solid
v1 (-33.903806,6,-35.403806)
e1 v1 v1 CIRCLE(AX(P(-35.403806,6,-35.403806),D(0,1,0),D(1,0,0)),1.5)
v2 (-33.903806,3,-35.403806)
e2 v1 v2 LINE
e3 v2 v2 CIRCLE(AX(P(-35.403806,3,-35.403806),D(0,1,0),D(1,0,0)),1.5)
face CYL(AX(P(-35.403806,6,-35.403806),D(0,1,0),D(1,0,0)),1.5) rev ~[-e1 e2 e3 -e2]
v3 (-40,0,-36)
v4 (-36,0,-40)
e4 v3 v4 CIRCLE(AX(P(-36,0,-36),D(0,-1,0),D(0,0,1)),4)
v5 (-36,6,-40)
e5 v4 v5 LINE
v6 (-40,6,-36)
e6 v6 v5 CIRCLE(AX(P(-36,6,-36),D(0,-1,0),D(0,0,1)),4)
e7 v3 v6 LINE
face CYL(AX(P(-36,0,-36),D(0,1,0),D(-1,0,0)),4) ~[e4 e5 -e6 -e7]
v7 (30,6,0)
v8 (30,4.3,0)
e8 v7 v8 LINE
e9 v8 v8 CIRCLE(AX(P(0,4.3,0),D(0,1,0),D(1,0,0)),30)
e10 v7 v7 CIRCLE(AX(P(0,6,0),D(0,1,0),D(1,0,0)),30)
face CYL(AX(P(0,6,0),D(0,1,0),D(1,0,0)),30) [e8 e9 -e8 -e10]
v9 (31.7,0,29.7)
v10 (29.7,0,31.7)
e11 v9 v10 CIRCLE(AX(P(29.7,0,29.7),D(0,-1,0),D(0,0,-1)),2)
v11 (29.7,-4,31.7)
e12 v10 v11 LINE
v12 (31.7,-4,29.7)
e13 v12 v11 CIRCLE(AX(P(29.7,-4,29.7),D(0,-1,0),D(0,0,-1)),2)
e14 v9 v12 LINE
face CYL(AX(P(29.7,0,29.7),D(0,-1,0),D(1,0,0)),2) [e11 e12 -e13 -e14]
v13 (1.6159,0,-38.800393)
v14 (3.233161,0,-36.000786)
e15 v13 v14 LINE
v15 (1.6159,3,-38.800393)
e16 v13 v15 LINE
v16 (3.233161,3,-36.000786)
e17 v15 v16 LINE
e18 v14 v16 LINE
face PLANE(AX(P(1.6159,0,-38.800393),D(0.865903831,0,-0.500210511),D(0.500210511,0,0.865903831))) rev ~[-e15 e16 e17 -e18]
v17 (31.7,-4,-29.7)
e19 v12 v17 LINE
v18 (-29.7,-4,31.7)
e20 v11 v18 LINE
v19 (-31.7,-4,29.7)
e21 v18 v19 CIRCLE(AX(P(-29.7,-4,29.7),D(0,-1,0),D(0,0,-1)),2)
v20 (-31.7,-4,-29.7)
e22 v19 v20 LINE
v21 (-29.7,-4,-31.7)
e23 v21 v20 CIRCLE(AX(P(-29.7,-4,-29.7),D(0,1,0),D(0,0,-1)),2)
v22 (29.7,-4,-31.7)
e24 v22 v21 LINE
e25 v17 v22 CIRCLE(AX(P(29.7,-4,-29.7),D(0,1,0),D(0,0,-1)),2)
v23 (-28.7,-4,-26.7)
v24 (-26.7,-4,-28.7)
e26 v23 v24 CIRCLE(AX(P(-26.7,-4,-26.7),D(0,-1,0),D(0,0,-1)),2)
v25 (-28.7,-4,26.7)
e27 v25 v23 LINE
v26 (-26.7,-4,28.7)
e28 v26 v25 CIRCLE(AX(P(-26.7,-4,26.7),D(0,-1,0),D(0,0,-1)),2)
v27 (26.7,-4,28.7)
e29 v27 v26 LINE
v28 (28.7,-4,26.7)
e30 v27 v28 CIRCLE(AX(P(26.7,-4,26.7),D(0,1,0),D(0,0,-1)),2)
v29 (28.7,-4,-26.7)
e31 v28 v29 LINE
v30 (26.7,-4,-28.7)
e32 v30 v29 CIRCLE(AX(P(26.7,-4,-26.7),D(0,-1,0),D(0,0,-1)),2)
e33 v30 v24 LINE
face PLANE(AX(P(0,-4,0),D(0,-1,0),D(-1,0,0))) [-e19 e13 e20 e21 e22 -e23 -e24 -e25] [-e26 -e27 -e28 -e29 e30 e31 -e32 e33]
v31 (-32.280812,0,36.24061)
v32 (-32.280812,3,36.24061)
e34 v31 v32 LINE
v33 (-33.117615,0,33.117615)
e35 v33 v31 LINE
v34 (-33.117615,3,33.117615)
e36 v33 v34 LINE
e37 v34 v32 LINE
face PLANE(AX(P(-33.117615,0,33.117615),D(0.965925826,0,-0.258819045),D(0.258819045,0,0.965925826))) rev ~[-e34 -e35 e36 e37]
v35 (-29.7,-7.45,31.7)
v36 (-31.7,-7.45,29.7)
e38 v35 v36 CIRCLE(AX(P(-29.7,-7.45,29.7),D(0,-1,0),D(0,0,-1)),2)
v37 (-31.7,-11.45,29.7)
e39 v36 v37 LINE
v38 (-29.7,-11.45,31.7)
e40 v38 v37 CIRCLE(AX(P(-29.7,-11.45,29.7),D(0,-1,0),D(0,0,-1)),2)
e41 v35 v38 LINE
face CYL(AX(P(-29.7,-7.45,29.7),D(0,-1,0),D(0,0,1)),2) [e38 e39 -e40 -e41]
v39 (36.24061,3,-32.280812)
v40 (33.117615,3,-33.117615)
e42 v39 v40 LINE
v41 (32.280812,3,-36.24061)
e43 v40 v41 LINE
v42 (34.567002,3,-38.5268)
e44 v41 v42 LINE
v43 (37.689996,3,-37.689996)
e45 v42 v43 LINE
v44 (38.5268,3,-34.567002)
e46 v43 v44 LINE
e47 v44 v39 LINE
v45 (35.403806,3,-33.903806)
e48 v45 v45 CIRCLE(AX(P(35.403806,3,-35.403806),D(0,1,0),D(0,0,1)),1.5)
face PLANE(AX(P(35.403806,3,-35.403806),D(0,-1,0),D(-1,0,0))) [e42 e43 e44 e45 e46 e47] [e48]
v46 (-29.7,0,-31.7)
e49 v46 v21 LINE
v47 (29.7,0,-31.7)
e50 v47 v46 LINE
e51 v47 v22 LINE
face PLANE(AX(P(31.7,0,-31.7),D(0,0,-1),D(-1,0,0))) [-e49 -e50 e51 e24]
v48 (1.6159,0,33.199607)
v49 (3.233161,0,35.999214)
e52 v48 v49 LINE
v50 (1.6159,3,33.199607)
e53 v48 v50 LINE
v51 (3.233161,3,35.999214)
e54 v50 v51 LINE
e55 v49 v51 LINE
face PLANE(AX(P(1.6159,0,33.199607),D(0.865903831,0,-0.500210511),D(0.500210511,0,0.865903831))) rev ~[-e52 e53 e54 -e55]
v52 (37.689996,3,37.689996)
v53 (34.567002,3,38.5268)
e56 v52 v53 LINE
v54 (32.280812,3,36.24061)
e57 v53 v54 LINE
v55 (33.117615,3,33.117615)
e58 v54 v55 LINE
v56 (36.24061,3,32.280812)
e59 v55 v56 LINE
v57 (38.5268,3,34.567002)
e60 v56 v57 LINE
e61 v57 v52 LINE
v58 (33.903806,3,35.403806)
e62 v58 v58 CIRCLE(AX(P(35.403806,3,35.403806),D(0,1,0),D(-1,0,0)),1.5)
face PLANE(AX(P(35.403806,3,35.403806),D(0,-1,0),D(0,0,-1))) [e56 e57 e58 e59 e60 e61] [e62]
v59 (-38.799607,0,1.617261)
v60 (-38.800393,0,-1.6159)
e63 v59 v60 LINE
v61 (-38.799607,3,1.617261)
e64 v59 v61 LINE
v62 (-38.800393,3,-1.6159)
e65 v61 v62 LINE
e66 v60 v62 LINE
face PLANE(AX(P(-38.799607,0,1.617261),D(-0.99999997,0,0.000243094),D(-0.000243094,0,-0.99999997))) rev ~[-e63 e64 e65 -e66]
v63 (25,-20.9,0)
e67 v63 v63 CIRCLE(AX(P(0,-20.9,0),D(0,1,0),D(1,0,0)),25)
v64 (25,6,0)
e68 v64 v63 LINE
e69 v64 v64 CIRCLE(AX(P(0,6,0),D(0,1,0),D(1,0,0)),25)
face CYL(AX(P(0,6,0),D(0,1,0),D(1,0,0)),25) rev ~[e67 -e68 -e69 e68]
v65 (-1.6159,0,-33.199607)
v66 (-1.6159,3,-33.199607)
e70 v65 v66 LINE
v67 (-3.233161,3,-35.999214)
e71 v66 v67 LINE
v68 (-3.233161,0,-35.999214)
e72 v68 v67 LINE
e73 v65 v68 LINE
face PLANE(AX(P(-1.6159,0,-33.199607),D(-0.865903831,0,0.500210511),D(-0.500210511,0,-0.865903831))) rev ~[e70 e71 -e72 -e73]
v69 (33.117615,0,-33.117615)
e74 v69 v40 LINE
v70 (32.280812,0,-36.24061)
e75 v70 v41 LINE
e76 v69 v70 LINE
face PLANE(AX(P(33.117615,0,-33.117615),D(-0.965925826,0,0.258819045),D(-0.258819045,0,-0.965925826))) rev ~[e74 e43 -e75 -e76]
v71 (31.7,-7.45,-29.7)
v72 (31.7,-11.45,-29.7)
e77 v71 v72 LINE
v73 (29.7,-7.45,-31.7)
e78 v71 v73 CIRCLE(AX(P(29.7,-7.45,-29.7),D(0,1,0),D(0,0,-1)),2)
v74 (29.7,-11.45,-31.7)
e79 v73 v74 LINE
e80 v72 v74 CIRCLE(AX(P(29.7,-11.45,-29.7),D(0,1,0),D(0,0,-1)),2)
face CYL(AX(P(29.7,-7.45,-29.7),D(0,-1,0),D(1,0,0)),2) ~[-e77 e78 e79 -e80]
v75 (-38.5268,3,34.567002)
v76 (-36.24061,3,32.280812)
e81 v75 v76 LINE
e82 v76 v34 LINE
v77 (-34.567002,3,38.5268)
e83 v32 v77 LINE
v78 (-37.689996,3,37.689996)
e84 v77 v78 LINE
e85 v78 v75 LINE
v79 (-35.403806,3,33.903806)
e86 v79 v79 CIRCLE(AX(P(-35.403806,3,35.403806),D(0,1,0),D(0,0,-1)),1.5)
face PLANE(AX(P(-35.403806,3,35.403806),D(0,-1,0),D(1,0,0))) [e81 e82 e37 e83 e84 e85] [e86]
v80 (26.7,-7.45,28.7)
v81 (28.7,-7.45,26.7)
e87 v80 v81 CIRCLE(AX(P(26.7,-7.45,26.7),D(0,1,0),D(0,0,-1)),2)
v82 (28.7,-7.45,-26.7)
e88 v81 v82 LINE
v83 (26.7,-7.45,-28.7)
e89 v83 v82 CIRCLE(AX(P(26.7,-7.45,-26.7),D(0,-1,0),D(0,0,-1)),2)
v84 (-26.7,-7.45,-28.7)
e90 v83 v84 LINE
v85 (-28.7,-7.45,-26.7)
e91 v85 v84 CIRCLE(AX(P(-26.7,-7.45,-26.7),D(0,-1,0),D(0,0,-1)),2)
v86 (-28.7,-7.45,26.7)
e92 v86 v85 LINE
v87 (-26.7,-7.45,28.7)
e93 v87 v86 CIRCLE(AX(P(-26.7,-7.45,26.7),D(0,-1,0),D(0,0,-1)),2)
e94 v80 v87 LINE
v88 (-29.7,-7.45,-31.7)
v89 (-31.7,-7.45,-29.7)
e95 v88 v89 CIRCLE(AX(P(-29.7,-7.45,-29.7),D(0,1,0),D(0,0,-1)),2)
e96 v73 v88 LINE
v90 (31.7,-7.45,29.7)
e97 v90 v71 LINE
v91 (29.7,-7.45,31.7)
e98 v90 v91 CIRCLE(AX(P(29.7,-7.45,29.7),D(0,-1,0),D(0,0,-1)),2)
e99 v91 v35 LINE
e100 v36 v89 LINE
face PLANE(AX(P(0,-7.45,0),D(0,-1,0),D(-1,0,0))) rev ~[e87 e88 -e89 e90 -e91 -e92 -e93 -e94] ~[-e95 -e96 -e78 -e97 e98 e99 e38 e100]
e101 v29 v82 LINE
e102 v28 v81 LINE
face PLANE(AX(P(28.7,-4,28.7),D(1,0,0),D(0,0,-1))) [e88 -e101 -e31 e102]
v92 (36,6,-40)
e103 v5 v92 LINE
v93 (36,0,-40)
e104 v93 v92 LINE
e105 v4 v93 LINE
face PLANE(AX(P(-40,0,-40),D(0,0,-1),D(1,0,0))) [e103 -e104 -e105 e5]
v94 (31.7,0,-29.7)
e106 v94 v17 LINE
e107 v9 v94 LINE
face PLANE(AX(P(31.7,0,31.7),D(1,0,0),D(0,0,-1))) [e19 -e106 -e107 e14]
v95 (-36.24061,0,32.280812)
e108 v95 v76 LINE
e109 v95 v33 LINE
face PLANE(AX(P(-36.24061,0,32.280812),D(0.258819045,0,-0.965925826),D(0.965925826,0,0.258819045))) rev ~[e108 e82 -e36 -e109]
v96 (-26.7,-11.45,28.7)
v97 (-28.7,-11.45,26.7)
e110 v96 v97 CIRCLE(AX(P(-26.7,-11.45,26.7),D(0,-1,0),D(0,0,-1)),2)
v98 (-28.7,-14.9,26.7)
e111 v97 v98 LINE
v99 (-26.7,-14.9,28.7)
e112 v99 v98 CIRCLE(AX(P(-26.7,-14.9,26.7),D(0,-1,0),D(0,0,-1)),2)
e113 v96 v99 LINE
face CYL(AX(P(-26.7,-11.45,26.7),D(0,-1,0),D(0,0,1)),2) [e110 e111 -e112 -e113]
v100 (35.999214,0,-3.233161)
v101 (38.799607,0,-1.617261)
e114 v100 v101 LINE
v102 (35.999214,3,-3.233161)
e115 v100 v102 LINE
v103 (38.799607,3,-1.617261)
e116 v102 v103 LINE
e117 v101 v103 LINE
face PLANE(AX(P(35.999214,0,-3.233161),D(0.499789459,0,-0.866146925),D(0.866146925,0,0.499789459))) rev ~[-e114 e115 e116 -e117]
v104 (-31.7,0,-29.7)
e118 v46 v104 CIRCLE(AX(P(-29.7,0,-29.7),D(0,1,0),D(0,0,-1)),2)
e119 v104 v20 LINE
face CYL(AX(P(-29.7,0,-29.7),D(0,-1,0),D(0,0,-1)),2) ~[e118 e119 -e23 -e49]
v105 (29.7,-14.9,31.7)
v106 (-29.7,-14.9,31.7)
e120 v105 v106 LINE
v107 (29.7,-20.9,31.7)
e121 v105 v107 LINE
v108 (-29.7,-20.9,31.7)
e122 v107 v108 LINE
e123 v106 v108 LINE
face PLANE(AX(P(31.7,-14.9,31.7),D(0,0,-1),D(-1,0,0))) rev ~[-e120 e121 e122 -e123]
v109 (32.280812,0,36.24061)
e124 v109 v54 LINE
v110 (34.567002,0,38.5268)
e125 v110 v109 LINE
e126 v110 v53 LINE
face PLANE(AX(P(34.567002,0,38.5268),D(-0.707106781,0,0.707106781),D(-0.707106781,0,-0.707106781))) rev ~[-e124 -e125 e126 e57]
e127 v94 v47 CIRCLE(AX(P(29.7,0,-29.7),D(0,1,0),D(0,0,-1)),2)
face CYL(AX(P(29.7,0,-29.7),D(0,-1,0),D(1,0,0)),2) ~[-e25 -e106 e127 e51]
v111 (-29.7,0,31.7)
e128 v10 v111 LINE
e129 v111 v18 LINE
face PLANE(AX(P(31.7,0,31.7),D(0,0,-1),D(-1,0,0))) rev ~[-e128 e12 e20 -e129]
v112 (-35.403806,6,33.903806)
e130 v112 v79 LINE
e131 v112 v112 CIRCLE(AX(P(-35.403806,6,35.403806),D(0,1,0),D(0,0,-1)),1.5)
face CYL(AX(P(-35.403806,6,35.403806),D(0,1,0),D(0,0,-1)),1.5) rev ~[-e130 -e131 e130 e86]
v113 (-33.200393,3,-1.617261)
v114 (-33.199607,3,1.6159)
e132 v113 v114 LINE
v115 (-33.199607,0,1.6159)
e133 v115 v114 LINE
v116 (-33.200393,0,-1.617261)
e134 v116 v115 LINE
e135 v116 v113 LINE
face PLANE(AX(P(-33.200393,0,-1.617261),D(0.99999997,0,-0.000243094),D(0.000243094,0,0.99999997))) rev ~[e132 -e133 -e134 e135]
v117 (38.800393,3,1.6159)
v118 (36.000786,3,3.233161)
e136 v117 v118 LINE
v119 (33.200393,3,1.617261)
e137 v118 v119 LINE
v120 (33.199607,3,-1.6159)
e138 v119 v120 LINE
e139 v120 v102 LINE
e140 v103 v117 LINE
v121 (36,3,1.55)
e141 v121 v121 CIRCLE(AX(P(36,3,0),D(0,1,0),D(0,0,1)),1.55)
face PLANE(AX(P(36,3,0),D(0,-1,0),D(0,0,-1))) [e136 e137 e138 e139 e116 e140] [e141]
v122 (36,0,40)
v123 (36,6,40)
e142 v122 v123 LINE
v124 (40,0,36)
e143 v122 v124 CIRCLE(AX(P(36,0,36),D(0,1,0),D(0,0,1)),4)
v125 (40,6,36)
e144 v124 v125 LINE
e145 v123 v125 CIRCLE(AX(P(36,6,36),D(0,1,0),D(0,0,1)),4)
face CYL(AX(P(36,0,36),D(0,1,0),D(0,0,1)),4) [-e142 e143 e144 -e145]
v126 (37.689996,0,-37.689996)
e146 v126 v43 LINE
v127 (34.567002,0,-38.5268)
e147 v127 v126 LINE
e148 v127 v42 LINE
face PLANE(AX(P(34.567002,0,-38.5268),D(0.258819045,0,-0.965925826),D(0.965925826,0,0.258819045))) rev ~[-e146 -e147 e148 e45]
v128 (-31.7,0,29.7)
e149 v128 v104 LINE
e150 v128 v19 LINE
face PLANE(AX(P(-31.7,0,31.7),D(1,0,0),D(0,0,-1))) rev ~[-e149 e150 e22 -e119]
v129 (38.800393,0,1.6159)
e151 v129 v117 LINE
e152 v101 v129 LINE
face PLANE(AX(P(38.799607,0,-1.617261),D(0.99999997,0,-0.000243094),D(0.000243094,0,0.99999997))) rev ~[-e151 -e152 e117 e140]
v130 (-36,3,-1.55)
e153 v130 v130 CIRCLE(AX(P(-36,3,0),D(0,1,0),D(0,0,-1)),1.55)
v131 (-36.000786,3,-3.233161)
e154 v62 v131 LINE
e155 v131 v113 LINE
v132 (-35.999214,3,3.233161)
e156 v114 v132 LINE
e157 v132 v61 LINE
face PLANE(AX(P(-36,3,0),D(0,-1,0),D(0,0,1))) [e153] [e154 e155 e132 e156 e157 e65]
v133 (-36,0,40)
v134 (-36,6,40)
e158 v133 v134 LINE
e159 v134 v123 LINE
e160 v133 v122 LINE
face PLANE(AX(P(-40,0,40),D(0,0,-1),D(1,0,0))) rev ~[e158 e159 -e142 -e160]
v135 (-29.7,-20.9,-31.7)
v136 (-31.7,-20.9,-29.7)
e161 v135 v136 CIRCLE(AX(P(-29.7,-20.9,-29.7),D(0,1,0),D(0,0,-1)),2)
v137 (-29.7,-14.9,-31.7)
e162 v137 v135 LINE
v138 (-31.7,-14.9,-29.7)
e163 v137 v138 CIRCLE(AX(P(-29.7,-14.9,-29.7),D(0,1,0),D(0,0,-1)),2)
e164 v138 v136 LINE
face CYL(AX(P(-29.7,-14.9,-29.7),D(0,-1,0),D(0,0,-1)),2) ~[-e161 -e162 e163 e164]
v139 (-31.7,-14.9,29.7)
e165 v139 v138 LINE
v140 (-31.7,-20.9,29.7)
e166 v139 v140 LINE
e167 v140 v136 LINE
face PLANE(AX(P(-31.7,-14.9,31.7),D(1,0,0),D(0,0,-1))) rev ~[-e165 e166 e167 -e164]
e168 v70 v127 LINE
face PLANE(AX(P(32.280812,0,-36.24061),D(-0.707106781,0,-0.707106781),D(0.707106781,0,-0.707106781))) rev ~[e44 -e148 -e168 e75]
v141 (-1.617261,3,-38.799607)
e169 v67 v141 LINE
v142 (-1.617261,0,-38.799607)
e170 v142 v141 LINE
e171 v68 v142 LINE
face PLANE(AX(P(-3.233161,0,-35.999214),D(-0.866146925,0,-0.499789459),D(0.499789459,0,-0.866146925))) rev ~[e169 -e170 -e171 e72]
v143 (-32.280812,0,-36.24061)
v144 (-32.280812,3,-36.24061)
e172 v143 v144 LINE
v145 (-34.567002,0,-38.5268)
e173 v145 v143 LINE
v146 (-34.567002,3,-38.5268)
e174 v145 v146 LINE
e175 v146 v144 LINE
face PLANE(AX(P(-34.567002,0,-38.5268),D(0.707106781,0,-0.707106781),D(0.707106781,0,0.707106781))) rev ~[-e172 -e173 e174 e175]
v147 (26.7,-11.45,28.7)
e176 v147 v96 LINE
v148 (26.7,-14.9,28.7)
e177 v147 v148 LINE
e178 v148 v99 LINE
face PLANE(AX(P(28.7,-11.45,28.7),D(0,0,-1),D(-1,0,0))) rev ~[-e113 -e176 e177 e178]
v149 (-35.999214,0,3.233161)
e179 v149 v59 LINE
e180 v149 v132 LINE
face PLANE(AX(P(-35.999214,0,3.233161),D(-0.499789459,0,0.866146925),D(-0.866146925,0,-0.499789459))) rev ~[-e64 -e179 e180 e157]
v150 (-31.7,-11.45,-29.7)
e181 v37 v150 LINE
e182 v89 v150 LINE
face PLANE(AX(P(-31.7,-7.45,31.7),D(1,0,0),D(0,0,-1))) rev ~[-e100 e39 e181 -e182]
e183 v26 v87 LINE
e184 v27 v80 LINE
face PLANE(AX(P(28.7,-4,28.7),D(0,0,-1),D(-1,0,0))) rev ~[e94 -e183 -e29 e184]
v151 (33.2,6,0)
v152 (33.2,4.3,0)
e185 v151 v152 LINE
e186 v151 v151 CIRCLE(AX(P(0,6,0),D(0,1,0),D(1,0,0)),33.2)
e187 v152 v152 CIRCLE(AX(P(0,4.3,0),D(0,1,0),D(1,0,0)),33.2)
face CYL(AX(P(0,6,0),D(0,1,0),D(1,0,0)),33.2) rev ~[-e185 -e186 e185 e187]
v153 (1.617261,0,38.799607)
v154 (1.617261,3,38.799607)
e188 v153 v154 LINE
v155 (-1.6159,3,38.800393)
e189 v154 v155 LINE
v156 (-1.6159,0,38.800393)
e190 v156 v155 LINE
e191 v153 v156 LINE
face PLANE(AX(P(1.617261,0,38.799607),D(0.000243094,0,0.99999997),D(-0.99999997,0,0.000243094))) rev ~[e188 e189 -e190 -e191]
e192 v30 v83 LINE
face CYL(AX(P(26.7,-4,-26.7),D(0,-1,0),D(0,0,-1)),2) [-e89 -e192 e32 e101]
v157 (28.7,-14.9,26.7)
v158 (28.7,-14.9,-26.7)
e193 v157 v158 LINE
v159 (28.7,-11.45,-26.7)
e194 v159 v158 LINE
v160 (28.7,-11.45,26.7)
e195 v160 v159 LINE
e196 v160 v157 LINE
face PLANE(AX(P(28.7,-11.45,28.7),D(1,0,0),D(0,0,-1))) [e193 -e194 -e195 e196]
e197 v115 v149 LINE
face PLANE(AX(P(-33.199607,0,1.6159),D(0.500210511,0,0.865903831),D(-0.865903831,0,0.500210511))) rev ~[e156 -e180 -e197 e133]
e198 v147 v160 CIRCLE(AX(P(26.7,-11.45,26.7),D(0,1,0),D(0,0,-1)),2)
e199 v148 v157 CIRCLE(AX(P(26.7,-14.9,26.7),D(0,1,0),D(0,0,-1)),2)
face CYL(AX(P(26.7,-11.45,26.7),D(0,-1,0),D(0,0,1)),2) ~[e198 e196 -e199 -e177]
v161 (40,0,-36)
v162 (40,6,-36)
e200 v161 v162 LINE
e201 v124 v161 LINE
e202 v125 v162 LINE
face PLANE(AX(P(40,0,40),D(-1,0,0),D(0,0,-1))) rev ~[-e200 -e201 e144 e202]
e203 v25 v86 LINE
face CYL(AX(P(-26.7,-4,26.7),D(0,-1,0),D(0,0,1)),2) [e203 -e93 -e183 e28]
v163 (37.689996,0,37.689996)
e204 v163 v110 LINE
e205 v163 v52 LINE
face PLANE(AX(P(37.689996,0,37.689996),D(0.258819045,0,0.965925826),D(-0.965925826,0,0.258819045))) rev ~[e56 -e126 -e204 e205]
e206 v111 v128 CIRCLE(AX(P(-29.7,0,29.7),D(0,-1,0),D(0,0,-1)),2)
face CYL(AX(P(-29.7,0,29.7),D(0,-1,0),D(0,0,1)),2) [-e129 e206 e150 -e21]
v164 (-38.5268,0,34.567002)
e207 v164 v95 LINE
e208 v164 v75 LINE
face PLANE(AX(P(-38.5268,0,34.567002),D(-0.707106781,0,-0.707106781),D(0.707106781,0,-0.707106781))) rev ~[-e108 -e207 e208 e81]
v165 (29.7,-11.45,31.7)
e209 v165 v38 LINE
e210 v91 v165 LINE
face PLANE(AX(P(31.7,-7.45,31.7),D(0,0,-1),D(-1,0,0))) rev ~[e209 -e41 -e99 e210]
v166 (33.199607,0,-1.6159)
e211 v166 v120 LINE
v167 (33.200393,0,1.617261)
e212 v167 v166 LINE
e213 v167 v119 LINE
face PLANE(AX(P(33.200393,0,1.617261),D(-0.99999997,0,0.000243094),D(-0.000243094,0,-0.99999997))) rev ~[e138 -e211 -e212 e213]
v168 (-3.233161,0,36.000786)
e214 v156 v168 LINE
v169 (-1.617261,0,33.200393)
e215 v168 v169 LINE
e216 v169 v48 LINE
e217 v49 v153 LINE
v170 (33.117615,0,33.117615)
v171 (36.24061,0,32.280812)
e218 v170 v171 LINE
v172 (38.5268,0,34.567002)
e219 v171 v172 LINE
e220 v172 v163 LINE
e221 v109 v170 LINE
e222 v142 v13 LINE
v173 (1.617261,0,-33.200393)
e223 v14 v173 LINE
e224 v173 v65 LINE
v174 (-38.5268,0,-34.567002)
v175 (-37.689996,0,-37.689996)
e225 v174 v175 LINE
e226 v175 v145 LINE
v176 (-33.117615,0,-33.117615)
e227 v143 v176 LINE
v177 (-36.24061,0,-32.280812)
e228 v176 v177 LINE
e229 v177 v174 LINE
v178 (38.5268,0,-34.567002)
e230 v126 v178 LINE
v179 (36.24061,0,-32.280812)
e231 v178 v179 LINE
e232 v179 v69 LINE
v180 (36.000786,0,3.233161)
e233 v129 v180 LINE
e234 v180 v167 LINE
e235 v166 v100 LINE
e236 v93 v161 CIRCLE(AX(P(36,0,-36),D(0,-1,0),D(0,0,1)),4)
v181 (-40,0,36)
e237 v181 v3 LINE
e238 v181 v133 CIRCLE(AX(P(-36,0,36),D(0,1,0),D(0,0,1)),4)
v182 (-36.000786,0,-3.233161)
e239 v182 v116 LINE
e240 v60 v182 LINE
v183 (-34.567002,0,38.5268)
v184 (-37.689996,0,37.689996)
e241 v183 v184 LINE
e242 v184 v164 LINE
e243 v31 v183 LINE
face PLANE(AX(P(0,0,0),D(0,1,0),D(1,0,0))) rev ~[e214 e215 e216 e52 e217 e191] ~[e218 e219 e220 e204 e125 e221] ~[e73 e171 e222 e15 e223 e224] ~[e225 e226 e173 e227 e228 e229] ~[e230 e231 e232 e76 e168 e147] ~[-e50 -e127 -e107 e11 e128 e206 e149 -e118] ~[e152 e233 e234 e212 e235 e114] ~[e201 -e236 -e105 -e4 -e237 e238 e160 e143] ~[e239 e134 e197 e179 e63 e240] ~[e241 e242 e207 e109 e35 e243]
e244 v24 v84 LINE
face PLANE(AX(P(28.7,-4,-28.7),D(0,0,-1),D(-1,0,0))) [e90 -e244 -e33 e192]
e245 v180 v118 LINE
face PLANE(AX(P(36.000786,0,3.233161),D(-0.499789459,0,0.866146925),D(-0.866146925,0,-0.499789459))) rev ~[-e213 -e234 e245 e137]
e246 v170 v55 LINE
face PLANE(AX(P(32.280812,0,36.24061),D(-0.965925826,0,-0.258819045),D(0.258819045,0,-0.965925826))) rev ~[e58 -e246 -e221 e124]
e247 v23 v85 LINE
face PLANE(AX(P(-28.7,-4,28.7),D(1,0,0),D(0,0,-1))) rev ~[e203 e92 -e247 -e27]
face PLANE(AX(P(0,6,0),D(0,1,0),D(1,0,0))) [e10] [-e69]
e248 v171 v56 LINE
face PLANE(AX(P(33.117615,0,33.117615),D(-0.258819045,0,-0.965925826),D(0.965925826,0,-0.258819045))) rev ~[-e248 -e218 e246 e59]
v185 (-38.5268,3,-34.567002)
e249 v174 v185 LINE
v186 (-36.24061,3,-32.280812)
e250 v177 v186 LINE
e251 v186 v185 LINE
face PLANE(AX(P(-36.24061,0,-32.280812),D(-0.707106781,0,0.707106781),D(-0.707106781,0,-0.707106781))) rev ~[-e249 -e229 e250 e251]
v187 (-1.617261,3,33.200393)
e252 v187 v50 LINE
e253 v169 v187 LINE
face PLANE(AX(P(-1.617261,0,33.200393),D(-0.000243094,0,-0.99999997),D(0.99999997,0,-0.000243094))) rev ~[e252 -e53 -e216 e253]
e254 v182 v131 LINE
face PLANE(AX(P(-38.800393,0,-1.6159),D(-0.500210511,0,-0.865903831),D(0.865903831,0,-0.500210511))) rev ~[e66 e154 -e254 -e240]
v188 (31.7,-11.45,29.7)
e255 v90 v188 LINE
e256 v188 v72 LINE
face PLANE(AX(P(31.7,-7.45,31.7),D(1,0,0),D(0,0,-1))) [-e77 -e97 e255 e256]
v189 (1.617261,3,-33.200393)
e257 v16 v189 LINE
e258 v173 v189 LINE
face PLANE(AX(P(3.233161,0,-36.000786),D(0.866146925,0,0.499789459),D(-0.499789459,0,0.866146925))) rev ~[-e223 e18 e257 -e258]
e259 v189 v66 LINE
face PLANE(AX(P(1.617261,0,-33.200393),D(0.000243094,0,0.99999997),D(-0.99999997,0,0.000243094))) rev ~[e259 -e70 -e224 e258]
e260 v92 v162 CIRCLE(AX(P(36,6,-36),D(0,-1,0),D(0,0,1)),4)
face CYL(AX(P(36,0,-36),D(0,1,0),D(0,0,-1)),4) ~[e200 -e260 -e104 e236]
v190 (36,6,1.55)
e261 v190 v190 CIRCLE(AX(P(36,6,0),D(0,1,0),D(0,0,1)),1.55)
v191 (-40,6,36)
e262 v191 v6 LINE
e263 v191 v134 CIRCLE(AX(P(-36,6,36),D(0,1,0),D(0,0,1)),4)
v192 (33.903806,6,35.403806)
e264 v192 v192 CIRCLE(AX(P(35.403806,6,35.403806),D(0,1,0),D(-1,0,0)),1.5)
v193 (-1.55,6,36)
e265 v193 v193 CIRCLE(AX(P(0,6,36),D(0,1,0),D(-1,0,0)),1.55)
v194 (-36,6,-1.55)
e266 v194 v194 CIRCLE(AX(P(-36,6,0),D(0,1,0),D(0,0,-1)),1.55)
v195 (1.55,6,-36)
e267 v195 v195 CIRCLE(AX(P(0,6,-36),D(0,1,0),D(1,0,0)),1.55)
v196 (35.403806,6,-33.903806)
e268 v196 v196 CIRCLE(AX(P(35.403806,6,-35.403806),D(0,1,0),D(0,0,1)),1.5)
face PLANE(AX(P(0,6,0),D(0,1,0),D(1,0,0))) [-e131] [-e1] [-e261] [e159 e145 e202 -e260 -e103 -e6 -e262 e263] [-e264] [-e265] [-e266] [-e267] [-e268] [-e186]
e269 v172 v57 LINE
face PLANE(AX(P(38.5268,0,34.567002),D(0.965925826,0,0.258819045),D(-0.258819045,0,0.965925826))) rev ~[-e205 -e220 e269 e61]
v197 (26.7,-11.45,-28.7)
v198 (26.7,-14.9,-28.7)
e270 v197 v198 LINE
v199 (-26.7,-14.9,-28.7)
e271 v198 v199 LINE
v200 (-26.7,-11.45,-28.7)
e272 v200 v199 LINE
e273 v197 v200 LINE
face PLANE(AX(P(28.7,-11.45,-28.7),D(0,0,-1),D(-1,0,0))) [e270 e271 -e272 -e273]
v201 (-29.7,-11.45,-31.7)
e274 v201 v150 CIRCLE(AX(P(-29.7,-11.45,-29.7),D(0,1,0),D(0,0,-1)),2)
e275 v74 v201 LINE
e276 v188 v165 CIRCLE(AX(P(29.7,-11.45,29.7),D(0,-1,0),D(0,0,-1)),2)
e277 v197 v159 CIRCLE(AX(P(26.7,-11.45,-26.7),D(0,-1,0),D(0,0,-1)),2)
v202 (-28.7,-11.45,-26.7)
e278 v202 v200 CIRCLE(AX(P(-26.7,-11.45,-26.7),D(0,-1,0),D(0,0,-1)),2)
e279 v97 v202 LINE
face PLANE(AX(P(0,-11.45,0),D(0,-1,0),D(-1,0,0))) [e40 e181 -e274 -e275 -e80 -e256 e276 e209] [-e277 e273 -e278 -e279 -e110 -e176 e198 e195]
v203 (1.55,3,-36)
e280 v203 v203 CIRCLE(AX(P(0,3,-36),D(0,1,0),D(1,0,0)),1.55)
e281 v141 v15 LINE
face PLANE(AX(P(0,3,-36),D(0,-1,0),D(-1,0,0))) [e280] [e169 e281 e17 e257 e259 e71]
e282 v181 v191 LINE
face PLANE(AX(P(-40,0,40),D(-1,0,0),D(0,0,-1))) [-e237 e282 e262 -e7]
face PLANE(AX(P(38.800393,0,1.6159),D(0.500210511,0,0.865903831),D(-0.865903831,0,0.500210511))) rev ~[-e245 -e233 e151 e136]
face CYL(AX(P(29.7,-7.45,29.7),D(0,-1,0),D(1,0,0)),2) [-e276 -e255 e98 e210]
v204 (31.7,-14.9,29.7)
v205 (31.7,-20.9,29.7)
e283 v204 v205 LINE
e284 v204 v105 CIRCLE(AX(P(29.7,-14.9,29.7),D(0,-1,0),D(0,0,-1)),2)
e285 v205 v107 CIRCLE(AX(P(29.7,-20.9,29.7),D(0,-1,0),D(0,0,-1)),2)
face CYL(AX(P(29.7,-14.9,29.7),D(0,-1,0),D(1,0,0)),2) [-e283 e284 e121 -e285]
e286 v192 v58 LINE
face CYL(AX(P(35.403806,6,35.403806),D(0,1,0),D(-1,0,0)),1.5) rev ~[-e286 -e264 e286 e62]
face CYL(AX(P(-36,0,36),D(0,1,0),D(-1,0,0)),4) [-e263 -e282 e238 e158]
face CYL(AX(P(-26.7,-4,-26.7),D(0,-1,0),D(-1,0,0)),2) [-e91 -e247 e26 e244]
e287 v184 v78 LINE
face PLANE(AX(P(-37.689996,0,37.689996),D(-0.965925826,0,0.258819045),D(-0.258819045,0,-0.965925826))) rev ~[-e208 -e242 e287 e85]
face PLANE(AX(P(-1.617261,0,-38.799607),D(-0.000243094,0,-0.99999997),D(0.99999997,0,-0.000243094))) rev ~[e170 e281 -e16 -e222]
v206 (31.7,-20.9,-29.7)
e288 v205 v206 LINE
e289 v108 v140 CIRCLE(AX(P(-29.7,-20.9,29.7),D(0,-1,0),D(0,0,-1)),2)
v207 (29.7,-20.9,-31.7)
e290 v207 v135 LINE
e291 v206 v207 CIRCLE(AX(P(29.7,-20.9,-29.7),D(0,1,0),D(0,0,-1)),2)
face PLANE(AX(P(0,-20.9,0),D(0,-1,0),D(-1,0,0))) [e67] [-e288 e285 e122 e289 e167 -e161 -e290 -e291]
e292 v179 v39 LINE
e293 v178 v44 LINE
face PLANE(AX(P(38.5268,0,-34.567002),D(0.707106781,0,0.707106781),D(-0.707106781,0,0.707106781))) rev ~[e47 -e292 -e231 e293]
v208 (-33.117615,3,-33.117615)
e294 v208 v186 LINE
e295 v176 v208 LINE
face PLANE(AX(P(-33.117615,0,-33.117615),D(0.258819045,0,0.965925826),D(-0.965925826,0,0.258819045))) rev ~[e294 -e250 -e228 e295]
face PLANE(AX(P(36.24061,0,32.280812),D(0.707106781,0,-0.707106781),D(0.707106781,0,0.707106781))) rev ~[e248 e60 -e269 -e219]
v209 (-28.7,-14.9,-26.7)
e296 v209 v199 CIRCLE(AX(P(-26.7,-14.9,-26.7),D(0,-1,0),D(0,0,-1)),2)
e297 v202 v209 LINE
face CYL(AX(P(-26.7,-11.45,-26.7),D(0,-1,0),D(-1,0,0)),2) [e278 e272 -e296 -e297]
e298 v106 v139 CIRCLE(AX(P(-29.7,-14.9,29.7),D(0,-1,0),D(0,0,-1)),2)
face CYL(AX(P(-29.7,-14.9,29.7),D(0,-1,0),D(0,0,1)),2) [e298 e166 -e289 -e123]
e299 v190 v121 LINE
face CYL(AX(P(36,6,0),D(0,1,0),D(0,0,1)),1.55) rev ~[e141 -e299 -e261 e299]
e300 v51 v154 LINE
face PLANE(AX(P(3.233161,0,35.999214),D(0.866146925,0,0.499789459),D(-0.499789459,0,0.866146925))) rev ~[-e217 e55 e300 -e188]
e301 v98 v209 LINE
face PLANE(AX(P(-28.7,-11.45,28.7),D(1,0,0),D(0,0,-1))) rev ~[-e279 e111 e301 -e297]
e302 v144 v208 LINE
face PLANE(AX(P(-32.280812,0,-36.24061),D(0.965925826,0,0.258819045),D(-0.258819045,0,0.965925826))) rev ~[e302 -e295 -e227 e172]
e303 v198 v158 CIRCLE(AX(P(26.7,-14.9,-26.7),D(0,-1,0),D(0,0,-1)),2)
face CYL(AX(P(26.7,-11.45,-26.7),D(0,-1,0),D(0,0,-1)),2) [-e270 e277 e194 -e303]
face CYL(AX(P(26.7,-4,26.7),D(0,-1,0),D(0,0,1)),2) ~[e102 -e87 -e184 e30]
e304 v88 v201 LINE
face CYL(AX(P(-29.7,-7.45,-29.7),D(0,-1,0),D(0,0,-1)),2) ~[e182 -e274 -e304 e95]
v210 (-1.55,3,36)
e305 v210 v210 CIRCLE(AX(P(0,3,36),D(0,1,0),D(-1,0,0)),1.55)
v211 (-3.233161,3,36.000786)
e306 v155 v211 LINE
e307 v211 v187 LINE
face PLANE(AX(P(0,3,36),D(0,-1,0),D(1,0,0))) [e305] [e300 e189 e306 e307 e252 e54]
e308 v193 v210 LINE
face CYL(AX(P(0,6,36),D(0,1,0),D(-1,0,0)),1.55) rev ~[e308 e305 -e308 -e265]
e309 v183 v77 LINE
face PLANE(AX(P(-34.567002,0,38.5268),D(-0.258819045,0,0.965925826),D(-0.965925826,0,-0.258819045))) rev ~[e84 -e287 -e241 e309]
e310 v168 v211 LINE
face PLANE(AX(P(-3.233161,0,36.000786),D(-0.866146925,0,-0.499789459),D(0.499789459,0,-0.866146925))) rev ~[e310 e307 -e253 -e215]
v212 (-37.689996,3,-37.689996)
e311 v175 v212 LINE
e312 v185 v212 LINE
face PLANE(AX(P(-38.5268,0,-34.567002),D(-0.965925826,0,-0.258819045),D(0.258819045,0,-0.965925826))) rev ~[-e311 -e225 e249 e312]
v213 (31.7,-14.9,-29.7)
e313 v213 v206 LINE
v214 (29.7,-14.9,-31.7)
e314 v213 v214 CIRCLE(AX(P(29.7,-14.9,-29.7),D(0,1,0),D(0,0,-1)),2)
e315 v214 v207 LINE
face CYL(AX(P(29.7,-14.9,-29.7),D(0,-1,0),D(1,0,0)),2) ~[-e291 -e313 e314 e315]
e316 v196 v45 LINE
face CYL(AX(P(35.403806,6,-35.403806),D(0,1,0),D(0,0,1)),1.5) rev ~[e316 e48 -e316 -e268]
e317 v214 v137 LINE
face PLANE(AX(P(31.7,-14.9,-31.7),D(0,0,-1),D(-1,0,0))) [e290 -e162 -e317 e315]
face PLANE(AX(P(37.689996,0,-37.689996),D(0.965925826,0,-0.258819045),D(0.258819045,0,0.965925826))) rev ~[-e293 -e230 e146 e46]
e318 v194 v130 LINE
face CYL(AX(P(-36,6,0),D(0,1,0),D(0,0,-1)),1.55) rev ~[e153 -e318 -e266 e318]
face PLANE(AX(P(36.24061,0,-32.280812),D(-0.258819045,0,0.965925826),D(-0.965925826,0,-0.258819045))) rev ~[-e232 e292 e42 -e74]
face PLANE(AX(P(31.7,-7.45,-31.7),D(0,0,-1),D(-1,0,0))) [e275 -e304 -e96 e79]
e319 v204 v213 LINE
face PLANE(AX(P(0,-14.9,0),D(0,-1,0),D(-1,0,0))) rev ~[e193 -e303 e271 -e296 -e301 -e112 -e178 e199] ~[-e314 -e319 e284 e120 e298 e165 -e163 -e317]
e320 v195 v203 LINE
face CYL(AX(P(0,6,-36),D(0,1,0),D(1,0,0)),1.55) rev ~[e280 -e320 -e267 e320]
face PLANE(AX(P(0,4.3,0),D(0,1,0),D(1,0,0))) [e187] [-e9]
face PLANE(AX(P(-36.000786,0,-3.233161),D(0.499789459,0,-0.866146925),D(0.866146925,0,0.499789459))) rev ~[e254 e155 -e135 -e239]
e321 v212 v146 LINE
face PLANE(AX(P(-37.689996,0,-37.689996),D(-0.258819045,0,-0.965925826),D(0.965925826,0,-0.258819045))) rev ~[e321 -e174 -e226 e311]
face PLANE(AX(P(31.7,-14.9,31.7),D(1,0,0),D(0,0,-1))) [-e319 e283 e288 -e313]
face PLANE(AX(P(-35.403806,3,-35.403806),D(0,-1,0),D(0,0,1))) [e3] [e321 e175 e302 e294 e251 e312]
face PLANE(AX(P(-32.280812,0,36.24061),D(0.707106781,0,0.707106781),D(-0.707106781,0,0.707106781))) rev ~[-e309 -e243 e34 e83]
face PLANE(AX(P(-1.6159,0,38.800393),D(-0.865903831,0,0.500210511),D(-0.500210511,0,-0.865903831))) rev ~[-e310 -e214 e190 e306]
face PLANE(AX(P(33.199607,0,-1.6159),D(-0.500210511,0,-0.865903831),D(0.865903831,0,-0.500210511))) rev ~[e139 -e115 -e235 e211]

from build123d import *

# Parameters (mm, degrees)
SKETCH_3_W               = 80
SKETCH_3_H               = 80
EXTRUDE_1_DEPTH          = 6
SKETCH_4_W               = 63.4
SKETCH_4_H               = 63.4
EXTRUDE_2_DEPTH          = 4
SKETCH_5_W               = 57.4
SKETCH_5_H               = 57.4
EXTRUDE_3_DEPTH          = 3.45
SKETCH_6_W               = 63.4
SKETCH_6_H               = 63.4
EXTRUDE_4_DEPTH          = 4
SKETCH_7_W               = 57.4
SKETCH_7_H               = 57.4
EXTRUDE_5_DEPTH          = 3.45
SKETCH_8_W               = 63.4
SKETCH_8_H               = 63.4
EXTRUDE_6_DEPTH          = 6
SKETCH_11_R              = 25
CUT_EXTRUDE_3_DEPTH      = 1
CUT_EXTRUDE_3_DEPTH_BACK = 27.9
SKETCH_12_R              = 33.2
SKETCH_12_R_2            = 30
CUT_EXTRUDE_4_DEPTH      = 1.7
SKETCH_13_R              = 1.55
CUT_EXTRUDE_5_DEPTH      = 6
PATTERN_CIRCULAR_1_COUNT = 4
SKETCH_14_R              = 1.5
CUT_EXTRUDE_6_DEPTH      = 6
PATTERN_CIRCULAR_2_COUNT = 4
CUT_EXTRUDE_7_DEPTH      = 3
PATTERN_CIRCULAR_3_COUNT = 4
FILLET_1_R               = 2
FILLET_2_R               = 4


with BuildPart() as part:
    # 草图3 → 凸台-拉伸1 (new body)
    with BuildSketch(Plane(origin=(0, 0, 0), x_dir=(1, 0, 0), z_dir=(0, 1, 0))):
        Rectangle(SKETCH_3_W, SKETCH_3_H)
    extrude(amount=EXTRUDE_1_DEPTH)

    # 草图4 → 凸台-拉伸2 (add)
    with BuildSketch(Plane(origin=(0, 0, 0), x_dir=(-1, 0, 0), z_dir=(0, -1, 0))):
        Rectangle(SKETCH_4_W, SKETCH_4_H)
    extrude(amount=EXTRUDE_2_DEPTH)

    # 草图5 → 凸台-拉伸3 (add)
    with BuildSketch(Plane(origin=(0, -4, 0), x_dir=(-1, 0, 0), z_dir=(0, -1, 0))):
        Rectangle(SKETCH_5_W, SKETCH_5_H)
    extrude(amount=EXTRUDE_3_DEPTH)

    # 草图6 → 凸台-拉伸4 (add)
    with BuildSketch(Plane(origin=(0, -7.45, 0), x_dir=(-1, 0, 0), z_dir=(0, -1, 0))):
        Rectangle(SKETCH_6_W, SKETCH_6_H)
    extrude(amount=EXTRUDE_4_DEPTH)

    # 草图7 → 凸台-拉伸5 (add)
    with BuildSketch(Plane(origin=(0, -11.45, 0), x_dir=(-1, 0, 0), z_dir=(0, -1, 0))):
        Rectangle(SKETCH_7_W, SKETCH_7_H)
    extrude(amount=EXTRUDE_5_DEPTH)

    # 草图8 → 凸台-拉伸6 (add)
    with BuildSketch(Plane(origin=(0, -14.9, 0), x_dir=(-1, 0, 0), z_dir=(0, -1, 0))):
        Rectangle(SKETCH_8_W, SKETCH_8_H)
    extrude(amount=EXTRUDE_6_DEPTH)

    # 草图11 → 切除-拉伸3 (cut, two sides)
    with BuildSketch(Plane(origin=(0, 6, 0), x_dir=(1, 0, 0), z_dir=(0, 1, 0))) as cut_extrude_3_sk:
        Circle(SKETCH_11_R)
    extrude(amount=CUT_EXTRUDE_3_DEPTH, mode=Mode.SUBTRACT)
    extrude(cut_extrude_3_sk.sketch, amount=-CUT_EXTRUDE_3_DEPTH_BACK, mode=Mode.SUBTRACT)

    # 草图12 → 切除-拉伸4 (cut)
    with BuildSketch(Plane(origin=(0, 6, 0), x_dir=(1, 0, 0), z_dir=(0, 1, 0))):
        Circle(SKETCH_12_R)
        Circle(SKETCH_12_R_2, mode=Mode.SUBTRACT)
    extrude(amount=-CUT_EXTRUDE_4_DEPTH, mode=Mode.SUBTRACT)

    # 草图13 → 切除-拉伸5 (cut)
    with BuildSketch(Plane(origin=(0, 6, 0), x_dir=(1, 0, 0), z_dir=(0, 1, 0))):
        with Locations((0, 36)):
            Circle(SKETCH_13_R)
    cut_extrude_5 = extrude(amount=-CUT_EXTRUDE_5_DEPTH, mode=Mode.SUBTRACT)

    # 阵列(圆周)1: 切除-拉伸5 ×4 about axis
    pattern_circular_1_axis = Axis((0, 0, 0), (0, 1, 0))
    for i in range(1, PATTERN_CIRCULAR_1_COUNT):
        add(cut_extrude_5.rotate(pattern_circular_1_axis, i * 360 / PATTERN_CIRCULAR_1_COUNT), mode=Mode.SUBTRACT)

    # 草图14 → 切除-拉伸6 (cut)
    with BuildSketch(Plane(origin=(0, 6, 0), x_dir=(1, 0, 0), z_dir=(0, 1, 0))):
        with Locations((-35.403805922, 35.403805922)):
            Circle(SKETCH_14_R)
    cut_extrude_6 = extrude(amount=-CUT_EXTRUDE_6_DEPTH, mode=Mode.SUBTRACT)

    # 阵列(圆周)2: 切除-拉伸6 ×4 about axis
    pattern_circular_2_axis = Axis((0, 0, 0), (0, 1, 0))
    for i in range(1, PATTERN_CIRCULAR_2_COUNT):
        add(cut_extrude_6.rotate(pattern_circular_2_axis, i * 360 / PATTERN_CIRCULAR_2_COUNT), mode=Mode.SUBTRACT)

    # 草图15 → 切除-拉伸7 (cut)
    with BuildSketch(Plane(origin=(0, 0, 0), x_dir=(-1, 0, 0), z_dir=(0, -1, 0))):
        Polygon((1.615900042, 33.199607101), (3.233161412, 35.999214037), (1.61726137, 38.799606936), (-1.615900042, 38.800392899), (-3.233161412, 36.000785963), (-1.61726137, 33.200393064), align=None)
        Polygon((-37.689996349, 37.689996349), (-38.526800123, 34.567002148), (-36.240609696, 32.280811722), (-33.117615496, 33.117615496), (-32.280811722, 36.240609696), (-34.567002148, 38.526800123), align=None)
    cut_extrude_7 = extrude(amount=-CUT_EXTRUDE_7_DEPTH, mode=Mode.SUBTRACT)

    # 阵列(圆周)3: 切除-拉伸7 ×4 about axis
    pattern_circular_3_axis = Axis((0, 0, 0), (0, 1, 0))
    for i in range(1, PATTERN_CIRCULAR_3_COUNT):
        add(cut_extrude_7.rotate(pattern_circular_3_axis, i * 360 / PATTERN_CIRCULAR_3_COUNT), mode=Mode.SUBTRACT)

    # 圆角1
    fillet_1_edges = [part.edges().sort_by_distance(p)[0] for p in [
        (-31.7, -2, 31.7),
        (-31.7, -2, -31.7),
        (31.7, -2, -31.7),
        (31.7, -2, 31.7),
        (-28.7, -5.725, 28.7),
        (-28.7, -5.725, -28.7),
        (28.7, -5.725, -28.7),
        (28.7, -5.725, 28.7),
        (-31.7, -9.45, 31.7),
        (-31.7, -9.45, -31.7),
        (31.7, -9.45, -31.7),
        (31.7, -9.45, 31.7),
        (-28.7, -13.175, 28.7),
        (-28.7, -13.175, -28.7),
        (28.7, -13.175, -28.7),
        (28.7, -13.175, 28.7),
        (-31.7, -17.9, 31.7),
        (-31.7, -17.9, -31.7),
        (31.7, -17.9, -31.7),
        (31.7, -17.9, 31.7),
    ]]
    fillet(fillet_1_edges, radius=FILLET_1_R)

    # 圆角2
    fillet_2_edges = [part.edges().sort_by_distance(p)[0] for p in [
        (40, 3, 40),
        (-40, 3, 40),
        (-40, 3, -40),
        (40, 3, -40),
    ]]
    fillet(fillet_2_edges, radius=FILLET_2_R)


solid = part.part
